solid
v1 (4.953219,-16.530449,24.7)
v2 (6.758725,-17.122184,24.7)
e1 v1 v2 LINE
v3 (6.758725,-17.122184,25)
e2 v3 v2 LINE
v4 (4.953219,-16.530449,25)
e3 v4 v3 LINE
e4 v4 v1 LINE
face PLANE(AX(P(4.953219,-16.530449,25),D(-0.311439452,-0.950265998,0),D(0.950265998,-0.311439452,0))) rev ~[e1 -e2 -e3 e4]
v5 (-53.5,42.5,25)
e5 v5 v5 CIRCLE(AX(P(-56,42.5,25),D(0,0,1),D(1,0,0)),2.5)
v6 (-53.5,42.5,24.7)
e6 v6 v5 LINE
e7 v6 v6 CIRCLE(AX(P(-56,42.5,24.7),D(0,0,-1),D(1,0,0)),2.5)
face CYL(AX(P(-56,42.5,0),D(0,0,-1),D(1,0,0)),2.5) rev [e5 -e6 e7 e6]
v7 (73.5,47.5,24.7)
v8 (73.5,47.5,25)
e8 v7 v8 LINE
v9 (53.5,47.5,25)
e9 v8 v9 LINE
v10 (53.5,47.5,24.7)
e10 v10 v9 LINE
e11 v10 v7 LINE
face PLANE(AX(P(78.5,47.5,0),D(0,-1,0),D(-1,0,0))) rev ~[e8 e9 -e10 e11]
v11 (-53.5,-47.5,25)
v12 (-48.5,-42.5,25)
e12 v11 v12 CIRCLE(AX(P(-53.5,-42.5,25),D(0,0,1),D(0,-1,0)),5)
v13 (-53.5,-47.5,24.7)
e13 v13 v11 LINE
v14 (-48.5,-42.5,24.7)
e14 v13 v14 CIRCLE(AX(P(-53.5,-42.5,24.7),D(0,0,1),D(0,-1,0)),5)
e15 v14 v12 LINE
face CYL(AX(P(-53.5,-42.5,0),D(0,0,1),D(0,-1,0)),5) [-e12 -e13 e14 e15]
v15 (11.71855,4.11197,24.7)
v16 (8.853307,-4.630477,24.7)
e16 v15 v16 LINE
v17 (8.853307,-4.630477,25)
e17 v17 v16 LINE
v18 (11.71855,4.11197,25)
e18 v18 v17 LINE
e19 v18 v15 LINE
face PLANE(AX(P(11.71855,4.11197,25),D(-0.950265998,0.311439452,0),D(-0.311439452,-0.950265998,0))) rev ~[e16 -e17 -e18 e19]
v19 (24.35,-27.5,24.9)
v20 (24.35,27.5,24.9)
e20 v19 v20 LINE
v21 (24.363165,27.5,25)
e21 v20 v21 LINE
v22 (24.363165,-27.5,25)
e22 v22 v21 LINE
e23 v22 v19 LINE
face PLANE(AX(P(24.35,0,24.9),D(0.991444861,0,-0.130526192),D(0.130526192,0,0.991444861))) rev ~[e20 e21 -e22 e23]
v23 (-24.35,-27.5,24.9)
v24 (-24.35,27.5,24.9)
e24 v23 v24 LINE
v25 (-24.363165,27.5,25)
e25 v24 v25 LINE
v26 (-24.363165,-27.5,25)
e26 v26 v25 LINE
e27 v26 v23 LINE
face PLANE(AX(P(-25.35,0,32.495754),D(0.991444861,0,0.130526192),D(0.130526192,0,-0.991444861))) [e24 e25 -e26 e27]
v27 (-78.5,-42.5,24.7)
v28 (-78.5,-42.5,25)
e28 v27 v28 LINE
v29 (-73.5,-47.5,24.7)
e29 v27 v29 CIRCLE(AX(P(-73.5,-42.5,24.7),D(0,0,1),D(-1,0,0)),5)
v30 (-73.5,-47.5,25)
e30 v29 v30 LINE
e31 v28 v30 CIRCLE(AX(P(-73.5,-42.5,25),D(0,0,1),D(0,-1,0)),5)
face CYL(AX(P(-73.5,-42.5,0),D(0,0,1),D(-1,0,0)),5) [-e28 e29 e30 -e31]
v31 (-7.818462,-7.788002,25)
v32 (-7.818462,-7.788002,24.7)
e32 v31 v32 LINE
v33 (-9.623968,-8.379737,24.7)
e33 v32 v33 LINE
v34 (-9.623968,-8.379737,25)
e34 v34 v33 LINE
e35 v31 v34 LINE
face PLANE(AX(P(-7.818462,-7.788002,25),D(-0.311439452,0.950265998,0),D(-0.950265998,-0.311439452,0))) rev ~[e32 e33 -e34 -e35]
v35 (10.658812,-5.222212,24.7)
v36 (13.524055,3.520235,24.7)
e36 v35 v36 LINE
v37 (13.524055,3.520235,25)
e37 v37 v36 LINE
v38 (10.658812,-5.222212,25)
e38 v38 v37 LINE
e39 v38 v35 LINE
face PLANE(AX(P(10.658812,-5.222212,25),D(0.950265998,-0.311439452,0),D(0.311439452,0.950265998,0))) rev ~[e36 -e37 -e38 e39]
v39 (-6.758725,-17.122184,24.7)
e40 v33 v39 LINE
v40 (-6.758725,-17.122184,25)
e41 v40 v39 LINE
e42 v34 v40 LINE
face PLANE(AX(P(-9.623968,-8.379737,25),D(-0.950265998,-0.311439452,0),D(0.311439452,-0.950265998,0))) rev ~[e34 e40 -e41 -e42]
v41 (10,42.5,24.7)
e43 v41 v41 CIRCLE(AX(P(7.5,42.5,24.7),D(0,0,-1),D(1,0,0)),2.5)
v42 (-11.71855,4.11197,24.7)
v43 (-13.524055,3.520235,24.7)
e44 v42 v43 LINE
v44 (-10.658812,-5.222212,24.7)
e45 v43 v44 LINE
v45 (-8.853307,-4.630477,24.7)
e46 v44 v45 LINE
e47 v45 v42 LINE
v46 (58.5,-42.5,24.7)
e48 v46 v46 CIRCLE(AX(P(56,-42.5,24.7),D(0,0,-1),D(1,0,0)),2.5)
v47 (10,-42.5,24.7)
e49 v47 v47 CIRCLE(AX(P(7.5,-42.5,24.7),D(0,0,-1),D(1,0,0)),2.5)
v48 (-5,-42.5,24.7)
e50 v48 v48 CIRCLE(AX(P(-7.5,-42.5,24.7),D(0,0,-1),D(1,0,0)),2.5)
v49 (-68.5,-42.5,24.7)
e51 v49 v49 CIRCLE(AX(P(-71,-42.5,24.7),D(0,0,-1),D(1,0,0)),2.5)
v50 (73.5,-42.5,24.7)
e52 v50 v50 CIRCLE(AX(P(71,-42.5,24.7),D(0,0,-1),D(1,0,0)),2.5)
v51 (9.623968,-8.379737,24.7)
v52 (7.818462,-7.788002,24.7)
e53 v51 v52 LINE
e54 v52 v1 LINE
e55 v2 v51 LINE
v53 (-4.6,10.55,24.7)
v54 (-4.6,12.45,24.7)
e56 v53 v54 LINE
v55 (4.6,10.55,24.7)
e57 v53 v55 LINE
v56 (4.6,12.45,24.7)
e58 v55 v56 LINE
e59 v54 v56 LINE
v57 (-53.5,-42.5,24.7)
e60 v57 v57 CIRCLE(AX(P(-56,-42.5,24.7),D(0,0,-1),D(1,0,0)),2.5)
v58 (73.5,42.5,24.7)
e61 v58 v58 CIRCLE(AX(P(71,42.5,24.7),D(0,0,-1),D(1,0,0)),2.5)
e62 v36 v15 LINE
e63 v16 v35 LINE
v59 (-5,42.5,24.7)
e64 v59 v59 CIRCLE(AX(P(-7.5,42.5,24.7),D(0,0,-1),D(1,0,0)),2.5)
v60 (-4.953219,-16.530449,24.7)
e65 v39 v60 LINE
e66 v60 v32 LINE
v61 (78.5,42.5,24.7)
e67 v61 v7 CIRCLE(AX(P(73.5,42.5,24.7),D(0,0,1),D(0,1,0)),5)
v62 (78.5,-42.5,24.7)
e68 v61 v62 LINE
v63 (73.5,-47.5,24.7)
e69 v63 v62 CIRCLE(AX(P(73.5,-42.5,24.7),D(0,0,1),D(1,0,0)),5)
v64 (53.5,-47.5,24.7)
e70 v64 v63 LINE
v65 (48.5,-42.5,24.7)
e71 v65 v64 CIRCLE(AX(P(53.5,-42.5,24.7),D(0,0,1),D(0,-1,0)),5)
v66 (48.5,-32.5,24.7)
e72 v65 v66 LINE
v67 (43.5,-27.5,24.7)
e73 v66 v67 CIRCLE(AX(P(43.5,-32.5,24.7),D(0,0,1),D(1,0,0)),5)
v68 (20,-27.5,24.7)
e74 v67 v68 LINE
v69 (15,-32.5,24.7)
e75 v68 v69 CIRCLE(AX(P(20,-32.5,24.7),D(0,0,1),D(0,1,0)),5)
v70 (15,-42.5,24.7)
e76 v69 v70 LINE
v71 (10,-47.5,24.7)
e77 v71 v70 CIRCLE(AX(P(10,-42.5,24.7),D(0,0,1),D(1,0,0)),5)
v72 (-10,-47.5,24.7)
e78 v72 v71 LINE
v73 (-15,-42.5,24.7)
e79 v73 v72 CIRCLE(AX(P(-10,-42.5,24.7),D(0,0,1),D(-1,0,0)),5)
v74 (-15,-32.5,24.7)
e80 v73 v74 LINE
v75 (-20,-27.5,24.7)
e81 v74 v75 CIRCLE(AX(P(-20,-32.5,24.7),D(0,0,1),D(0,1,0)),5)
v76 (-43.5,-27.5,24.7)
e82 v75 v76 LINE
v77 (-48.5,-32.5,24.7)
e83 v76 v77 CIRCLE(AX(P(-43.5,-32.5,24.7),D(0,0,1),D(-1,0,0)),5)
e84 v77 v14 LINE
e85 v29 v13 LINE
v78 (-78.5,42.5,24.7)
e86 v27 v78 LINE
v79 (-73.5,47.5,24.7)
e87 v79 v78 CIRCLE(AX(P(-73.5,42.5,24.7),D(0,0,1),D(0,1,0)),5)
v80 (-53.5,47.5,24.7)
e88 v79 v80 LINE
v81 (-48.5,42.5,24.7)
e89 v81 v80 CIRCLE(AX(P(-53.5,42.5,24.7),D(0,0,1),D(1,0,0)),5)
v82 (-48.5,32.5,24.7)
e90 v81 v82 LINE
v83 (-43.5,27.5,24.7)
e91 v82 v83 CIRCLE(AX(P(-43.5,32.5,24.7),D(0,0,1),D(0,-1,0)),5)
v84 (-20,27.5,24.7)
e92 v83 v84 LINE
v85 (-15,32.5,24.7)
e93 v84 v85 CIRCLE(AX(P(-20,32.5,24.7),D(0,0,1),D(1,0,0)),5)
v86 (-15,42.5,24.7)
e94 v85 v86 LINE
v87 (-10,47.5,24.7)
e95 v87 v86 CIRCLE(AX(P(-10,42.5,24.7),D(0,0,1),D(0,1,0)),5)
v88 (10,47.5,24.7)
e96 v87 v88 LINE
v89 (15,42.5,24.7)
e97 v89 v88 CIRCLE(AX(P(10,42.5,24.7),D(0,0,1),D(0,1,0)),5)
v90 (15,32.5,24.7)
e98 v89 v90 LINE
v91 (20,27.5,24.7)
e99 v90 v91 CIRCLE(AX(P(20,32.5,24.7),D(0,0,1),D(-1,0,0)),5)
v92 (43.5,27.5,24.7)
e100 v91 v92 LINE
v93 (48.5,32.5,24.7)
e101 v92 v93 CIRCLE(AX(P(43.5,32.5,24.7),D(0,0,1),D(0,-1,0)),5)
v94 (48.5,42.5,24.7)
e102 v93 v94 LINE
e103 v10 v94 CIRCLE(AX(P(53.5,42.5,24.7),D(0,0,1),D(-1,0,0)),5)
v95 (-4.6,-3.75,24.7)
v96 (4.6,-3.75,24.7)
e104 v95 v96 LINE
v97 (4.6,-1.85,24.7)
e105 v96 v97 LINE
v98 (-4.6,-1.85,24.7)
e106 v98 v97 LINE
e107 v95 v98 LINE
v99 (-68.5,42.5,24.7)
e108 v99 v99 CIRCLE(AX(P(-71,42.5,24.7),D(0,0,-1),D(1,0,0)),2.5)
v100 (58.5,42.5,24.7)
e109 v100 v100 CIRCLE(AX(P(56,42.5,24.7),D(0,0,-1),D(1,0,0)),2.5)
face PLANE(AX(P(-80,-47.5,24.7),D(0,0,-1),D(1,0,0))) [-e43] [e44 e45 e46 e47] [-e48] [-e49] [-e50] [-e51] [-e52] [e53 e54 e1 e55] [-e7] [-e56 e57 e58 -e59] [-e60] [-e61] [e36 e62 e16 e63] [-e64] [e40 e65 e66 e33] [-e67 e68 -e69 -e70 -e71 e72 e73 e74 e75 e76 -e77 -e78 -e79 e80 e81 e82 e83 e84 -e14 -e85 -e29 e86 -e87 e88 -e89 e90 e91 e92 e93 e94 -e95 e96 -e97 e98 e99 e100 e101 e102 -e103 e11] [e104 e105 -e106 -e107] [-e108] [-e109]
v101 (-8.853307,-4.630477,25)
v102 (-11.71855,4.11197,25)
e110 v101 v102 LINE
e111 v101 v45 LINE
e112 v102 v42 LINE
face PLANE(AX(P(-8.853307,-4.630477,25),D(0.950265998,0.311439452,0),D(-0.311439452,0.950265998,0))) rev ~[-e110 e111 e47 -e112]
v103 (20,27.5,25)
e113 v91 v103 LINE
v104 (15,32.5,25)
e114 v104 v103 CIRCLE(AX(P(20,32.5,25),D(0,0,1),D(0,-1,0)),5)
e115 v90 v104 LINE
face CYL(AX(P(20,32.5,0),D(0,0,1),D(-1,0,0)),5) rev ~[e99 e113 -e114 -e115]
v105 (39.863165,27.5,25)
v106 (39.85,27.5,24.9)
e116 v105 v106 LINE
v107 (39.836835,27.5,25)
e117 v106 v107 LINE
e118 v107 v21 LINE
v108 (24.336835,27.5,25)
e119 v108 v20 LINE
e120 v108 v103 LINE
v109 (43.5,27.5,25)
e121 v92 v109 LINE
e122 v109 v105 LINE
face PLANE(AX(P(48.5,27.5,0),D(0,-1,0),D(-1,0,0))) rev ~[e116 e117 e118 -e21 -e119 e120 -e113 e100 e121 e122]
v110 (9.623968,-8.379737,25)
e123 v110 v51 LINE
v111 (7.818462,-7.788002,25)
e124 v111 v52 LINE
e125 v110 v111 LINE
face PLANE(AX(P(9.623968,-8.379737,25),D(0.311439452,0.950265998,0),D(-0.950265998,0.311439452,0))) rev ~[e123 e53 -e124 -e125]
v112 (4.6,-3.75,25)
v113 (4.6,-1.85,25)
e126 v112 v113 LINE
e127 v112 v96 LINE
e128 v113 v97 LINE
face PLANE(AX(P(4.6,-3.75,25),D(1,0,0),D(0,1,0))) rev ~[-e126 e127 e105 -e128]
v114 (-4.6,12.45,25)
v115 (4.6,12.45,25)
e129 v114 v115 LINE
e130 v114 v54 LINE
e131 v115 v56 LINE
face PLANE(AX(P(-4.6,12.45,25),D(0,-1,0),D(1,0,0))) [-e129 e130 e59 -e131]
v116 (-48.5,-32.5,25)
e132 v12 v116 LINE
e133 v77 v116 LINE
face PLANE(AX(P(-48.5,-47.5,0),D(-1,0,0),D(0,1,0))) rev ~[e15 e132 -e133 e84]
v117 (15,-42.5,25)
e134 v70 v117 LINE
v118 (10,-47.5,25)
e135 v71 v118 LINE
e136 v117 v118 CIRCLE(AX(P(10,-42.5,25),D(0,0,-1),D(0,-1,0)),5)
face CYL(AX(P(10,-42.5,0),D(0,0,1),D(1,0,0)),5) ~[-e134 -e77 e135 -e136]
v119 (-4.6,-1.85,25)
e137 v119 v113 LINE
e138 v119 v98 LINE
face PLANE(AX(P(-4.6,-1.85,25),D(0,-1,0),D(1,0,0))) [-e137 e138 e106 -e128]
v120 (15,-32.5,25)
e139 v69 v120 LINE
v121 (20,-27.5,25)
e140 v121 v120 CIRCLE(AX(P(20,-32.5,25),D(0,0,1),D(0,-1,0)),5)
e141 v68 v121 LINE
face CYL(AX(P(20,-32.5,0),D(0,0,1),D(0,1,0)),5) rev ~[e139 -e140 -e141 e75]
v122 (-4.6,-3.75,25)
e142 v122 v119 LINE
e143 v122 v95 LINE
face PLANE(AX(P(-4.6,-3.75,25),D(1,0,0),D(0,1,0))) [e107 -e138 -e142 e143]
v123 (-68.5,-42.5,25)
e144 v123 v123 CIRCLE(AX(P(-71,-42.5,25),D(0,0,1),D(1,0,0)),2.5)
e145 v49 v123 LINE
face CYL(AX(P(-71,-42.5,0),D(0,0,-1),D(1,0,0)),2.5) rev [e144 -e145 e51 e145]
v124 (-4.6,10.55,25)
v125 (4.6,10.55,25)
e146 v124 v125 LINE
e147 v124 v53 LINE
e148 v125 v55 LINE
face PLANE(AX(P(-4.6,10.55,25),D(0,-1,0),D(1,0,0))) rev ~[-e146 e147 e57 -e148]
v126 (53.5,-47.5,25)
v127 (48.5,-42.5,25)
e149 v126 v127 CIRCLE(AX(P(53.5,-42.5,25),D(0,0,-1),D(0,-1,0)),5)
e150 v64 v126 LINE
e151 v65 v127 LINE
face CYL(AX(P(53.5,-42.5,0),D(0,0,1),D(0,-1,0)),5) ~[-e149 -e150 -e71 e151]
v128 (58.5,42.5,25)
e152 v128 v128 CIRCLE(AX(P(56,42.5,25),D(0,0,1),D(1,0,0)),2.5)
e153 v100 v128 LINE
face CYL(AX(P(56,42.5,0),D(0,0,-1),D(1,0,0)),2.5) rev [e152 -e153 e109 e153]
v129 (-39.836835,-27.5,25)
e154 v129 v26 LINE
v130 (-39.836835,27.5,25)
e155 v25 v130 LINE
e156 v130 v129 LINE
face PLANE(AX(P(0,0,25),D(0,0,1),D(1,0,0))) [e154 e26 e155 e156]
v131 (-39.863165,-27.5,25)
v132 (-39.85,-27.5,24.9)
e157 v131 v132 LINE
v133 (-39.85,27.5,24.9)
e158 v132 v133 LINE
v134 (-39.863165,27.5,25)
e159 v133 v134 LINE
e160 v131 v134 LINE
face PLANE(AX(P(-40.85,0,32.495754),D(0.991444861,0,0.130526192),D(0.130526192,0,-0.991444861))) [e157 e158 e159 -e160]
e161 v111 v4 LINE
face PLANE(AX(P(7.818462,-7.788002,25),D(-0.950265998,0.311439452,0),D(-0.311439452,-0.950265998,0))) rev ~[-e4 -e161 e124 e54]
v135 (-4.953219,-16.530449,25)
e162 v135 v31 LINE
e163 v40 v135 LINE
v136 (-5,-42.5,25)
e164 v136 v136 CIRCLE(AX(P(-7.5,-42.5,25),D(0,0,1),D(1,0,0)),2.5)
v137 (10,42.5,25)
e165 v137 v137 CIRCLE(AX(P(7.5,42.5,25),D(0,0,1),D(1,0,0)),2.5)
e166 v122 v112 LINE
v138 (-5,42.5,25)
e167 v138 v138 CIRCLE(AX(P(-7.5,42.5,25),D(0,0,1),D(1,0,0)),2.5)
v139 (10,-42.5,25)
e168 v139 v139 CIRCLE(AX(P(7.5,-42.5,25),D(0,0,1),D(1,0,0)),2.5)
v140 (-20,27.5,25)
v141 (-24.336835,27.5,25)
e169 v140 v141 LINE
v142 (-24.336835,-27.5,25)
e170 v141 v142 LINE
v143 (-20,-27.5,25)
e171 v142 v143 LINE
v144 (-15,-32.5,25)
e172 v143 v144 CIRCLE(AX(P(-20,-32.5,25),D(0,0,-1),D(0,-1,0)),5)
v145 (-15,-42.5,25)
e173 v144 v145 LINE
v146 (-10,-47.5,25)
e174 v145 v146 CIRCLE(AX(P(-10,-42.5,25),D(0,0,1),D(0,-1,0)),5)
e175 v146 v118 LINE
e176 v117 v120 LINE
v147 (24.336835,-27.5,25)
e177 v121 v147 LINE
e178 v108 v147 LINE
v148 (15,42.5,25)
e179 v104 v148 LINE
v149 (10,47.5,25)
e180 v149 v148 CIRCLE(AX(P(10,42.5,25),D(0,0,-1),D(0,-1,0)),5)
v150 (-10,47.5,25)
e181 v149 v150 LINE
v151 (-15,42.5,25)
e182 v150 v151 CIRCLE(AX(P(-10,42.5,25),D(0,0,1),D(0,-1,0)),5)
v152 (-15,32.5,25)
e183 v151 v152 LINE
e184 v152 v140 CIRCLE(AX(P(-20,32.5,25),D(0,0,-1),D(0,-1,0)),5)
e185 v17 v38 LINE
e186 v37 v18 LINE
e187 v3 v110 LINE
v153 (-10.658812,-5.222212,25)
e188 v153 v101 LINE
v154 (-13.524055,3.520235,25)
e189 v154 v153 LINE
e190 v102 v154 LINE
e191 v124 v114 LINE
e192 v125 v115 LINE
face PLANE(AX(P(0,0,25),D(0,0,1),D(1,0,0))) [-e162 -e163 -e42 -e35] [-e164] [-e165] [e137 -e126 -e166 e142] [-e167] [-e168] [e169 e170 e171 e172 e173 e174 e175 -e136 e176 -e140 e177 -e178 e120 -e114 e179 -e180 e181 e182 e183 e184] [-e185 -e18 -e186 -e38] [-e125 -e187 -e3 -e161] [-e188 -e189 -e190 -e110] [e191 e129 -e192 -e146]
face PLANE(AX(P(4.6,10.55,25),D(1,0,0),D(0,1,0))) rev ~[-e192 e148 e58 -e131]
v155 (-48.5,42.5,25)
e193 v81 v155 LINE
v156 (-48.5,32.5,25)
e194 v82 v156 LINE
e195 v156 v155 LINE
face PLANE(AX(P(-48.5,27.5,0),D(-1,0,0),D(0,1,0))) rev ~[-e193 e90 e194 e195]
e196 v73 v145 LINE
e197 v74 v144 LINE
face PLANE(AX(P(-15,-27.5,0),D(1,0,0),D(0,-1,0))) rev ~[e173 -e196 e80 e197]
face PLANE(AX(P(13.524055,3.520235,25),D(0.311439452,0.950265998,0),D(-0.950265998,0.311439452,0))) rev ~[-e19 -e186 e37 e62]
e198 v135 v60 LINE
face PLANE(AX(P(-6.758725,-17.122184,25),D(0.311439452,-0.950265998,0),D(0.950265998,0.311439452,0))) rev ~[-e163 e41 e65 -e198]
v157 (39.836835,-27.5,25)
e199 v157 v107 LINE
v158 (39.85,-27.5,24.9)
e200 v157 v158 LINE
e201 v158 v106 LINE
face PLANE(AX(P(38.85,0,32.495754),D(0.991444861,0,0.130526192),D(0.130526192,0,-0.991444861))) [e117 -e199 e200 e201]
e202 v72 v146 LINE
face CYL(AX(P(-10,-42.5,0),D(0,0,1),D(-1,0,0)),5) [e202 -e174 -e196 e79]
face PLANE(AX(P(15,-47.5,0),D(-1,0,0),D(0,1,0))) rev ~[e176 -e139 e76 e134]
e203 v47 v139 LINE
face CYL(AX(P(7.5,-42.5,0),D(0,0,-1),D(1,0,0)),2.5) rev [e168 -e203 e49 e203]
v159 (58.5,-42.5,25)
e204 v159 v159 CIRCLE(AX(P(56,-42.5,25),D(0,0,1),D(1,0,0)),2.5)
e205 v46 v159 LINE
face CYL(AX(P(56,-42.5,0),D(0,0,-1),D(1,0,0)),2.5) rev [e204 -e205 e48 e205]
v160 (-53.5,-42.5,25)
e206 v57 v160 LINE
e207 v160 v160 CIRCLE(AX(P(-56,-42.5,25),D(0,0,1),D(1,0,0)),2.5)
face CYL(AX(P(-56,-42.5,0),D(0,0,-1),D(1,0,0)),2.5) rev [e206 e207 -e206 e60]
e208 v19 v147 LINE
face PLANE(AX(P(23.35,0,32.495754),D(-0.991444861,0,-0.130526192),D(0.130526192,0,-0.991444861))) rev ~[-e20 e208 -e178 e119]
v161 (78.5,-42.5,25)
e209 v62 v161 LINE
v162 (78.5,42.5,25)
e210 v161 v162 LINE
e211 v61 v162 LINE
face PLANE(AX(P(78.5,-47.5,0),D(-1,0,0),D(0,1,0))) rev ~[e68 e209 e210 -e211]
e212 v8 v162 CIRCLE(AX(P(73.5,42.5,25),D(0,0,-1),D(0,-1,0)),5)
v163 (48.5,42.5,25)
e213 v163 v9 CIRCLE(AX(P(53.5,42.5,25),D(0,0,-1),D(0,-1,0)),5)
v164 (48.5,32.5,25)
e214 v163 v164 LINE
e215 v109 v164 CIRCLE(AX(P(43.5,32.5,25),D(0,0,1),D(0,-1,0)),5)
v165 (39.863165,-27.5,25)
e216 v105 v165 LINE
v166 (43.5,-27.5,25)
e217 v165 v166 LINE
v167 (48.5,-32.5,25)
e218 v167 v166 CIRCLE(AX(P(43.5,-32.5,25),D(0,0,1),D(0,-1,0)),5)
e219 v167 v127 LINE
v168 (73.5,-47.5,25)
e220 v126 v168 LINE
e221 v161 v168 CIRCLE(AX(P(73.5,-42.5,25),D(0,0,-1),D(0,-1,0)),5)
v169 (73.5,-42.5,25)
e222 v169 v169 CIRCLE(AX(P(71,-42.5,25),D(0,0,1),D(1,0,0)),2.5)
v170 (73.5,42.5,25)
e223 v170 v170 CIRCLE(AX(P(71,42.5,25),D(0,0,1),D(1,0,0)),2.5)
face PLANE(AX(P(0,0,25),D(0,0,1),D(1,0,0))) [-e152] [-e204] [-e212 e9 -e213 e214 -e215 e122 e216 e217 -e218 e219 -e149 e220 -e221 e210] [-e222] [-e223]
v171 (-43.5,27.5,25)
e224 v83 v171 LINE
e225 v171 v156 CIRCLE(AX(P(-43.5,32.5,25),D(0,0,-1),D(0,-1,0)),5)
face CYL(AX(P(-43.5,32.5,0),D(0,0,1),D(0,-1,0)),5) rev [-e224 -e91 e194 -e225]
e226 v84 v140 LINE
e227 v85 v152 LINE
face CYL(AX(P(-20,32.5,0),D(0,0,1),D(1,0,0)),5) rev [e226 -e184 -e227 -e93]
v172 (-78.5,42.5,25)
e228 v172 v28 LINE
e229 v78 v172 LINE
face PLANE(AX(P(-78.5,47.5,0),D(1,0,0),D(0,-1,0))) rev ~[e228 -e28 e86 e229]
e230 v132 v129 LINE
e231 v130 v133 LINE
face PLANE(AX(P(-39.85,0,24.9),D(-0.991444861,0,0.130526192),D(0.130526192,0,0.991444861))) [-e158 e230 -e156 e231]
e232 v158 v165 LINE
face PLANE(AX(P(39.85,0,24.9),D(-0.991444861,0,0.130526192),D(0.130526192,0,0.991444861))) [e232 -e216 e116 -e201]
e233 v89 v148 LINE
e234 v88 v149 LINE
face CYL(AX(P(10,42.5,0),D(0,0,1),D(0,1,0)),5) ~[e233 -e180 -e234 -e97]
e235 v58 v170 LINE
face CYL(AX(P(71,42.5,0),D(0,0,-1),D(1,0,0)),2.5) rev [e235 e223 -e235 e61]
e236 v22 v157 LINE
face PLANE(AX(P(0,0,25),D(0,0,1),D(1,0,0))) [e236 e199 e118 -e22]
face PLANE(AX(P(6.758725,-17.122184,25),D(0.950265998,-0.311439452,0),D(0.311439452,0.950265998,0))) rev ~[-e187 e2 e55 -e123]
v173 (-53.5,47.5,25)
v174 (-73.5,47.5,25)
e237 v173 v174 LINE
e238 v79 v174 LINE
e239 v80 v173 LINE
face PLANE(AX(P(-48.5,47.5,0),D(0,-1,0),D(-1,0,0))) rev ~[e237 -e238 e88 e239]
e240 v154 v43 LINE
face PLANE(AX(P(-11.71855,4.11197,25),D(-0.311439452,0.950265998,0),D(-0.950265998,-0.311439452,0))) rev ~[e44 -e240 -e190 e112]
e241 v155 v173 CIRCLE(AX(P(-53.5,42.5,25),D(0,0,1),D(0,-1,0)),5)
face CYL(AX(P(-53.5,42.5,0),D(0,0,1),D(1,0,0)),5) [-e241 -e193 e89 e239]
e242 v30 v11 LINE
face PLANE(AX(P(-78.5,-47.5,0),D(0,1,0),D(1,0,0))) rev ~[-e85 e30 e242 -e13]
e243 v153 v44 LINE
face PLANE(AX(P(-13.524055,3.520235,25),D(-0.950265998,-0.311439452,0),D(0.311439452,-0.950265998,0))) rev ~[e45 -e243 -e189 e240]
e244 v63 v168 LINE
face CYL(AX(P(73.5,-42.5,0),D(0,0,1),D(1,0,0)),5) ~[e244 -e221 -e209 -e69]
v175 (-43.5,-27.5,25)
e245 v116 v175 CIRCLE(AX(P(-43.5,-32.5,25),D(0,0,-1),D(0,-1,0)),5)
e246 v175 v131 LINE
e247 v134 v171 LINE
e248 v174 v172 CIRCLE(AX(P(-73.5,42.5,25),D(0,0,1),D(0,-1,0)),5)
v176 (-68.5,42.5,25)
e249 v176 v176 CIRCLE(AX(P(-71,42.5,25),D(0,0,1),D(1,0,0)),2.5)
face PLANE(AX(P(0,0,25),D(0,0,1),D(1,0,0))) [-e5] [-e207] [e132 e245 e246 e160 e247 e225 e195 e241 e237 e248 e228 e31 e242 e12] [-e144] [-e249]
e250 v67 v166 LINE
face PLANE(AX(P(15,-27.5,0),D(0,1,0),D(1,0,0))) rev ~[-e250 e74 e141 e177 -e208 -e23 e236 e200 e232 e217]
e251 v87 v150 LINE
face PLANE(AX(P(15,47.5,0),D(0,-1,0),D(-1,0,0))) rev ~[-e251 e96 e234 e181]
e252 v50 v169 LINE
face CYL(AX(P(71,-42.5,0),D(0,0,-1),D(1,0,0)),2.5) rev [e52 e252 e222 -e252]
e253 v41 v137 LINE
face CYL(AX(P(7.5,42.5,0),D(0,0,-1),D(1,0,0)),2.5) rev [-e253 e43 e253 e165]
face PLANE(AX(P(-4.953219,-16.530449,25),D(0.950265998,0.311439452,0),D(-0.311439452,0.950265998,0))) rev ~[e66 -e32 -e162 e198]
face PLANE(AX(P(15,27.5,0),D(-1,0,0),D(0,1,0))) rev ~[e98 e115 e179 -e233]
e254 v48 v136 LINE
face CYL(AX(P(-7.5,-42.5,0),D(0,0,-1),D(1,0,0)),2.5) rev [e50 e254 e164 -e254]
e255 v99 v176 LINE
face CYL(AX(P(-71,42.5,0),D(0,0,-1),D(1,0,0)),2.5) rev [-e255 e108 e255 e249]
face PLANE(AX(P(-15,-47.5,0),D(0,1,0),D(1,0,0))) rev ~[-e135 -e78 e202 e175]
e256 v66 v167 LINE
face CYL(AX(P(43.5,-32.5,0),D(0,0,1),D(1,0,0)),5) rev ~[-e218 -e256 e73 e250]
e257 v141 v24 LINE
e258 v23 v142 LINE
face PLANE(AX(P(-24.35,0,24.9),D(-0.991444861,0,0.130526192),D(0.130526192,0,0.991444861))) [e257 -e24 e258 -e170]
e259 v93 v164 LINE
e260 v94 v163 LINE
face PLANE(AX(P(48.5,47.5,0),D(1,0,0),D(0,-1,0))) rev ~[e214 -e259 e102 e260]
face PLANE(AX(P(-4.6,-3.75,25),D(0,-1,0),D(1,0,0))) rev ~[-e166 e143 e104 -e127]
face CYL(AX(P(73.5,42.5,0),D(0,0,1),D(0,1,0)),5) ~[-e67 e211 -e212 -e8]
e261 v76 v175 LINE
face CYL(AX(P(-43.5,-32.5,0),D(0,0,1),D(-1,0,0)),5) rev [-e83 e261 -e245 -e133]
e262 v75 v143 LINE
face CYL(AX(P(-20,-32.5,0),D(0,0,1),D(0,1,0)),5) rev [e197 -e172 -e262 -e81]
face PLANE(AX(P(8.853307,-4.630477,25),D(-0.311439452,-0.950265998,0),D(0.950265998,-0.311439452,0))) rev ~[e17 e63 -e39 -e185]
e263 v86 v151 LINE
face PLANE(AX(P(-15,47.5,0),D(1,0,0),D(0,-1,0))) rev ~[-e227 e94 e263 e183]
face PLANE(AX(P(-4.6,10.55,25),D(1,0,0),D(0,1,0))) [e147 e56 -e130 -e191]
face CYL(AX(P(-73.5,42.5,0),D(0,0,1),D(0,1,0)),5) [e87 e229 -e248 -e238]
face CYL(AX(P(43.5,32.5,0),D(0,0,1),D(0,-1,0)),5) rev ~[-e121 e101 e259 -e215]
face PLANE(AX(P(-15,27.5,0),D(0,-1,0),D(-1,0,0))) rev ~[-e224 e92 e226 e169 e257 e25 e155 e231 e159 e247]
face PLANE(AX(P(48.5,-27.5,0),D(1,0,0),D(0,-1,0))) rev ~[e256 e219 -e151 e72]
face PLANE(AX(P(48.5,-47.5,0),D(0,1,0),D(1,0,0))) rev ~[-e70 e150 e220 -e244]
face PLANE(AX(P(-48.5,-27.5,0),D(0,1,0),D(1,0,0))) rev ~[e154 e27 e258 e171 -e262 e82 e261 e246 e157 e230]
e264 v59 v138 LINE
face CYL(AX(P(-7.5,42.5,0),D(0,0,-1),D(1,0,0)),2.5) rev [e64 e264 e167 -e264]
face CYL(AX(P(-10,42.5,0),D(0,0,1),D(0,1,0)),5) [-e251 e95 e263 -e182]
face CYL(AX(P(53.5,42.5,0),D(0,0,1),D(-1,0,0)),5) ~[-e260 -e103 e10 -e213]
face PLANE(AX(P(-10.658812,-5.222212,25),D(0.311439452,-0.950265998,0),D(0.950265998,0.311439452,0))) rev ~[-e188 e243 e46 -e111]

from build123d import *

# Parameters (mm, degrees)
F0_R     = 2.5
F1_DEPTH = 25
F2_DEPTH = 25
F3_W     = 9.2
F3_H     = 1.9
F4_DEPTH = 25
F5_R     = 5
F7_DEPTH = 40
F8_W     = 165.974393075
F8_H     = 32.5776245729
F9_DEPTH = 97


with BuildPart() as f1:
    # F0 (on Top) → F1 (new body)
    with BuildSketch(Plane.XY):
        Polygon((15, 47.5), (-15, 47.5), (-15, 27.5), (-48.5, 27.5), (-48.5, 47.5), (-78.5, 47.5), (-78.5, -47.5), (-48.5, -47.5), (-48.5, -27.5), (-15, -27.5), (-15, -47.5), (15, -47.5), (15, -27.5), (48.5, -27.5), (48.5, -47.5), (78.5, -47.5), (78.5, 47.5), (48.5, 47.5), (48.5, 27.5), (15, 27.5), align=None)
        with Locations((-71, -42.5)):
            Circle(F0_R, mode=Mode.SUBTRACT)
        with Locations((-56, -42.5)):
            Circle(F0_R, mode=Mode.SUBTRACT)
        with Locations((-7.5, -42.5)):
            Circle(F0_R, mode=Mode.SUBTRACT)
        with Locations((7.5, -42.5)):
            Circle(F0_R, mode=Mode.SUBTRACT)
        with Locations((56, -42.5)):
            Circle(F0_R, mode=Mode.SUBTRACT)
        with Locations((71, -42.5)):
            Circle(F0_R, mode=Mode.SUBTRACT)
        with Locations((-71, 42.5)):
            Circle(F0_R, mode=Mode.SUBTRACT)
        with Locations((-56, 42.5)):
            Circle(F0_R, mode=Mode.SUBTRACT)
        with Locations((-7.5, 42.5)):
            Circle(F0_R, mode=Mode.SUBTRACT)
        with Locations((7.5, 42.5)):
            Circle(F0_R, mode=Mode.SUBTRACT)
        with Locations((56, 42.5)):
            Circle(F0_R, mode=Mode.SUBTRACT)
        with Locations((71, 42.5)):
            Circle(F0_R, mode=Mode.SUBTRACT)
    extrude(amount=F1_DEPTH)

    # F0 (on Top) → F2 (cut)
    with BuildSketch(Plane.XY):
        Polygon((15, 47.5), (-15, 47.5), (-15, 27.5), (-48.5, 27.5), (-48.5, 47.5), (-78.5, 47.5), (-78.5, -47.5), (-48.5, -47.5), (-48.5, -27.5), (-15, -27.5), (-15, -47.5), (15, -47.5), (15, -27.5), (48.5, -27.5), (48.5, -47.5), (78.5, -47.5), (78.5, 47.5), (48.5, 47.5), (48.5, 27.5), (15, 27.5), align=None)
        with Locations((-71, -42.5)):
            Circle(F0_R, mode=Mode.SUBTRACT)
        with Locations((-56, -42.5)):
            Circle(F0_R, mode=Mode.SUBTRACT)
        with Locations((-7.5, -42.5)):
            Circle(F0_R, mode=Mode.SUBTRACT)
        with Locations((7.5, -42.5)):
            Circle(F0_R, mode=Mode.SUBTRACT)
        with Locations((56, -42.5)):
            Circle(F0_R, mode=Mode.SUBTRACT)
        with Locations((71, -42.5)):
            Circle(F0_R, mode=Mode.SUBTRACT)
        with Locations((-71, 42.5)):
            Circle(F0_R, mode=Mode.SUBTRACT)
        with Locations((-56, 42.5)):
            Circle(F0_R, mode=Mode.SUBTRACT)
        with Locations((-7.5, 42.5)):
            Circle(F0_R, mode=Mode.SUBTRACT)
        with Locations((7.5, 42.5)):
            Circle(F0_R, mode=Mode.SUBTRACT)
        with Locations((56, 42.5)):
            Circle(F0_R, mode=Mode.SUBTRACT)
        with Locations((71, 42.5)):
            Circle(F0_R, mode=Mode.SUBTRACT)
    extrude(amount=-F2_DEPTH, mode=Mode.SUBTRACT)

    # F3 (on face) → F4 (cut)
    with BuildSketch(Plane.XY.offset(25)):
        with Locations((0, 11.5)):
            Rectangle(F3_W, F3_H)
        with Locations((0, -2.8)):
            Rectangle(F3_W, F3_H)
        Polygon((-8.8533070383, -4.6304771843), (-11.71855, 4.11197), (-13.5240553968, 3.5202350405), (-10.658812435, -5.2222121438), align=None)
        Polygon((-6.7587246898, -17.1221841819), (-4.953219293, -16.5304492224), (-7.8184622548, -7.7880020381), (-9.6239676515, -8.3797369976), align=None)
        Polygon((13.5240553968, 3.5202350405), (11.71855, 4.11197), (8.8533070383, -4.6304771843), (10.658812435, -5.2222121438), align=None)
        Polygon((7.8184622548, -7.7880020381), (4.953219293, -16.5304492224), (6.7587246898, -17.1221841819), (9.6239676515, -8.3797369976), align=None)
    extrude(amount=-F4_DEPTH, mode=Mode.SUBTRACT)

    # F5
    f5_edges = [f1.edges().sort_by_distance(p)[0] for p in [
        (-48.5, 47.5, 12.5),
        (-48.5, 27.5, 12.5),
        (15, 47.5, 12.5),
        (15, 27.5, 12.5),
        (78.5, 47.5, 12.5),
        (48.5, 47.5, 12.5),
        (-15, 47.5, 12.5),
        (48.5, 27.5, 12.5),
        (-15, 27.5, 12.5),
        (-78.5, 47.5, 12.5),
        (15, -27.5, 12.5),
        (15, -47.5, 12.5),
        (78.5, -47.5, 12.5),
        (-48.5, -27.5, 12.5),
        (-48.5, -47.5, 12.5),
        (48.5, -27.5, 12.5),
        (48.5, -47.5, 12.5),
        (-15, -27.5, 12.5),
        (-15, -47.5, 12.5),
        (-78.5, -47.5, 12.5),
    ]]
    fillet(f5_edges, radius=F5_R)

    # F6 (on Front) → F7 (cut, symmetric)
    with BuildSketch(Plane.XZ):
        Polygon((-38.85, 32.4957541127), (-40.85, 32.4957541127), (-39.85, 24.9), align=None)
        Polygon((39.85, 24.9), (40.85, 32.4957541127), (38.85, 32.4957541127), align=None)
        Polygon((-23.35, 32.4957541127), (-25.35, 32.4957541127), (-24.35, 24.9), align=None)
        Polygon((24.35, 24.9), (25.35, 32.4957541127), (23.35, 32.4957541127), align=None)
    extrude(amount=F7_DEPTH, both=True, mode=Mode.SUBTRACT)

    # F8 (on face) → F9 (cut)
    with BuildSketch(Plane.XZ.offset(47.5)):
        with Locations((2.9871965375, 8.4111877136)):
            Rectangle(F8_W, F8_H)
    extrude(amount=-F9_DEPTH, mode=Mode.SUBTRACT)


solid = f1.part
